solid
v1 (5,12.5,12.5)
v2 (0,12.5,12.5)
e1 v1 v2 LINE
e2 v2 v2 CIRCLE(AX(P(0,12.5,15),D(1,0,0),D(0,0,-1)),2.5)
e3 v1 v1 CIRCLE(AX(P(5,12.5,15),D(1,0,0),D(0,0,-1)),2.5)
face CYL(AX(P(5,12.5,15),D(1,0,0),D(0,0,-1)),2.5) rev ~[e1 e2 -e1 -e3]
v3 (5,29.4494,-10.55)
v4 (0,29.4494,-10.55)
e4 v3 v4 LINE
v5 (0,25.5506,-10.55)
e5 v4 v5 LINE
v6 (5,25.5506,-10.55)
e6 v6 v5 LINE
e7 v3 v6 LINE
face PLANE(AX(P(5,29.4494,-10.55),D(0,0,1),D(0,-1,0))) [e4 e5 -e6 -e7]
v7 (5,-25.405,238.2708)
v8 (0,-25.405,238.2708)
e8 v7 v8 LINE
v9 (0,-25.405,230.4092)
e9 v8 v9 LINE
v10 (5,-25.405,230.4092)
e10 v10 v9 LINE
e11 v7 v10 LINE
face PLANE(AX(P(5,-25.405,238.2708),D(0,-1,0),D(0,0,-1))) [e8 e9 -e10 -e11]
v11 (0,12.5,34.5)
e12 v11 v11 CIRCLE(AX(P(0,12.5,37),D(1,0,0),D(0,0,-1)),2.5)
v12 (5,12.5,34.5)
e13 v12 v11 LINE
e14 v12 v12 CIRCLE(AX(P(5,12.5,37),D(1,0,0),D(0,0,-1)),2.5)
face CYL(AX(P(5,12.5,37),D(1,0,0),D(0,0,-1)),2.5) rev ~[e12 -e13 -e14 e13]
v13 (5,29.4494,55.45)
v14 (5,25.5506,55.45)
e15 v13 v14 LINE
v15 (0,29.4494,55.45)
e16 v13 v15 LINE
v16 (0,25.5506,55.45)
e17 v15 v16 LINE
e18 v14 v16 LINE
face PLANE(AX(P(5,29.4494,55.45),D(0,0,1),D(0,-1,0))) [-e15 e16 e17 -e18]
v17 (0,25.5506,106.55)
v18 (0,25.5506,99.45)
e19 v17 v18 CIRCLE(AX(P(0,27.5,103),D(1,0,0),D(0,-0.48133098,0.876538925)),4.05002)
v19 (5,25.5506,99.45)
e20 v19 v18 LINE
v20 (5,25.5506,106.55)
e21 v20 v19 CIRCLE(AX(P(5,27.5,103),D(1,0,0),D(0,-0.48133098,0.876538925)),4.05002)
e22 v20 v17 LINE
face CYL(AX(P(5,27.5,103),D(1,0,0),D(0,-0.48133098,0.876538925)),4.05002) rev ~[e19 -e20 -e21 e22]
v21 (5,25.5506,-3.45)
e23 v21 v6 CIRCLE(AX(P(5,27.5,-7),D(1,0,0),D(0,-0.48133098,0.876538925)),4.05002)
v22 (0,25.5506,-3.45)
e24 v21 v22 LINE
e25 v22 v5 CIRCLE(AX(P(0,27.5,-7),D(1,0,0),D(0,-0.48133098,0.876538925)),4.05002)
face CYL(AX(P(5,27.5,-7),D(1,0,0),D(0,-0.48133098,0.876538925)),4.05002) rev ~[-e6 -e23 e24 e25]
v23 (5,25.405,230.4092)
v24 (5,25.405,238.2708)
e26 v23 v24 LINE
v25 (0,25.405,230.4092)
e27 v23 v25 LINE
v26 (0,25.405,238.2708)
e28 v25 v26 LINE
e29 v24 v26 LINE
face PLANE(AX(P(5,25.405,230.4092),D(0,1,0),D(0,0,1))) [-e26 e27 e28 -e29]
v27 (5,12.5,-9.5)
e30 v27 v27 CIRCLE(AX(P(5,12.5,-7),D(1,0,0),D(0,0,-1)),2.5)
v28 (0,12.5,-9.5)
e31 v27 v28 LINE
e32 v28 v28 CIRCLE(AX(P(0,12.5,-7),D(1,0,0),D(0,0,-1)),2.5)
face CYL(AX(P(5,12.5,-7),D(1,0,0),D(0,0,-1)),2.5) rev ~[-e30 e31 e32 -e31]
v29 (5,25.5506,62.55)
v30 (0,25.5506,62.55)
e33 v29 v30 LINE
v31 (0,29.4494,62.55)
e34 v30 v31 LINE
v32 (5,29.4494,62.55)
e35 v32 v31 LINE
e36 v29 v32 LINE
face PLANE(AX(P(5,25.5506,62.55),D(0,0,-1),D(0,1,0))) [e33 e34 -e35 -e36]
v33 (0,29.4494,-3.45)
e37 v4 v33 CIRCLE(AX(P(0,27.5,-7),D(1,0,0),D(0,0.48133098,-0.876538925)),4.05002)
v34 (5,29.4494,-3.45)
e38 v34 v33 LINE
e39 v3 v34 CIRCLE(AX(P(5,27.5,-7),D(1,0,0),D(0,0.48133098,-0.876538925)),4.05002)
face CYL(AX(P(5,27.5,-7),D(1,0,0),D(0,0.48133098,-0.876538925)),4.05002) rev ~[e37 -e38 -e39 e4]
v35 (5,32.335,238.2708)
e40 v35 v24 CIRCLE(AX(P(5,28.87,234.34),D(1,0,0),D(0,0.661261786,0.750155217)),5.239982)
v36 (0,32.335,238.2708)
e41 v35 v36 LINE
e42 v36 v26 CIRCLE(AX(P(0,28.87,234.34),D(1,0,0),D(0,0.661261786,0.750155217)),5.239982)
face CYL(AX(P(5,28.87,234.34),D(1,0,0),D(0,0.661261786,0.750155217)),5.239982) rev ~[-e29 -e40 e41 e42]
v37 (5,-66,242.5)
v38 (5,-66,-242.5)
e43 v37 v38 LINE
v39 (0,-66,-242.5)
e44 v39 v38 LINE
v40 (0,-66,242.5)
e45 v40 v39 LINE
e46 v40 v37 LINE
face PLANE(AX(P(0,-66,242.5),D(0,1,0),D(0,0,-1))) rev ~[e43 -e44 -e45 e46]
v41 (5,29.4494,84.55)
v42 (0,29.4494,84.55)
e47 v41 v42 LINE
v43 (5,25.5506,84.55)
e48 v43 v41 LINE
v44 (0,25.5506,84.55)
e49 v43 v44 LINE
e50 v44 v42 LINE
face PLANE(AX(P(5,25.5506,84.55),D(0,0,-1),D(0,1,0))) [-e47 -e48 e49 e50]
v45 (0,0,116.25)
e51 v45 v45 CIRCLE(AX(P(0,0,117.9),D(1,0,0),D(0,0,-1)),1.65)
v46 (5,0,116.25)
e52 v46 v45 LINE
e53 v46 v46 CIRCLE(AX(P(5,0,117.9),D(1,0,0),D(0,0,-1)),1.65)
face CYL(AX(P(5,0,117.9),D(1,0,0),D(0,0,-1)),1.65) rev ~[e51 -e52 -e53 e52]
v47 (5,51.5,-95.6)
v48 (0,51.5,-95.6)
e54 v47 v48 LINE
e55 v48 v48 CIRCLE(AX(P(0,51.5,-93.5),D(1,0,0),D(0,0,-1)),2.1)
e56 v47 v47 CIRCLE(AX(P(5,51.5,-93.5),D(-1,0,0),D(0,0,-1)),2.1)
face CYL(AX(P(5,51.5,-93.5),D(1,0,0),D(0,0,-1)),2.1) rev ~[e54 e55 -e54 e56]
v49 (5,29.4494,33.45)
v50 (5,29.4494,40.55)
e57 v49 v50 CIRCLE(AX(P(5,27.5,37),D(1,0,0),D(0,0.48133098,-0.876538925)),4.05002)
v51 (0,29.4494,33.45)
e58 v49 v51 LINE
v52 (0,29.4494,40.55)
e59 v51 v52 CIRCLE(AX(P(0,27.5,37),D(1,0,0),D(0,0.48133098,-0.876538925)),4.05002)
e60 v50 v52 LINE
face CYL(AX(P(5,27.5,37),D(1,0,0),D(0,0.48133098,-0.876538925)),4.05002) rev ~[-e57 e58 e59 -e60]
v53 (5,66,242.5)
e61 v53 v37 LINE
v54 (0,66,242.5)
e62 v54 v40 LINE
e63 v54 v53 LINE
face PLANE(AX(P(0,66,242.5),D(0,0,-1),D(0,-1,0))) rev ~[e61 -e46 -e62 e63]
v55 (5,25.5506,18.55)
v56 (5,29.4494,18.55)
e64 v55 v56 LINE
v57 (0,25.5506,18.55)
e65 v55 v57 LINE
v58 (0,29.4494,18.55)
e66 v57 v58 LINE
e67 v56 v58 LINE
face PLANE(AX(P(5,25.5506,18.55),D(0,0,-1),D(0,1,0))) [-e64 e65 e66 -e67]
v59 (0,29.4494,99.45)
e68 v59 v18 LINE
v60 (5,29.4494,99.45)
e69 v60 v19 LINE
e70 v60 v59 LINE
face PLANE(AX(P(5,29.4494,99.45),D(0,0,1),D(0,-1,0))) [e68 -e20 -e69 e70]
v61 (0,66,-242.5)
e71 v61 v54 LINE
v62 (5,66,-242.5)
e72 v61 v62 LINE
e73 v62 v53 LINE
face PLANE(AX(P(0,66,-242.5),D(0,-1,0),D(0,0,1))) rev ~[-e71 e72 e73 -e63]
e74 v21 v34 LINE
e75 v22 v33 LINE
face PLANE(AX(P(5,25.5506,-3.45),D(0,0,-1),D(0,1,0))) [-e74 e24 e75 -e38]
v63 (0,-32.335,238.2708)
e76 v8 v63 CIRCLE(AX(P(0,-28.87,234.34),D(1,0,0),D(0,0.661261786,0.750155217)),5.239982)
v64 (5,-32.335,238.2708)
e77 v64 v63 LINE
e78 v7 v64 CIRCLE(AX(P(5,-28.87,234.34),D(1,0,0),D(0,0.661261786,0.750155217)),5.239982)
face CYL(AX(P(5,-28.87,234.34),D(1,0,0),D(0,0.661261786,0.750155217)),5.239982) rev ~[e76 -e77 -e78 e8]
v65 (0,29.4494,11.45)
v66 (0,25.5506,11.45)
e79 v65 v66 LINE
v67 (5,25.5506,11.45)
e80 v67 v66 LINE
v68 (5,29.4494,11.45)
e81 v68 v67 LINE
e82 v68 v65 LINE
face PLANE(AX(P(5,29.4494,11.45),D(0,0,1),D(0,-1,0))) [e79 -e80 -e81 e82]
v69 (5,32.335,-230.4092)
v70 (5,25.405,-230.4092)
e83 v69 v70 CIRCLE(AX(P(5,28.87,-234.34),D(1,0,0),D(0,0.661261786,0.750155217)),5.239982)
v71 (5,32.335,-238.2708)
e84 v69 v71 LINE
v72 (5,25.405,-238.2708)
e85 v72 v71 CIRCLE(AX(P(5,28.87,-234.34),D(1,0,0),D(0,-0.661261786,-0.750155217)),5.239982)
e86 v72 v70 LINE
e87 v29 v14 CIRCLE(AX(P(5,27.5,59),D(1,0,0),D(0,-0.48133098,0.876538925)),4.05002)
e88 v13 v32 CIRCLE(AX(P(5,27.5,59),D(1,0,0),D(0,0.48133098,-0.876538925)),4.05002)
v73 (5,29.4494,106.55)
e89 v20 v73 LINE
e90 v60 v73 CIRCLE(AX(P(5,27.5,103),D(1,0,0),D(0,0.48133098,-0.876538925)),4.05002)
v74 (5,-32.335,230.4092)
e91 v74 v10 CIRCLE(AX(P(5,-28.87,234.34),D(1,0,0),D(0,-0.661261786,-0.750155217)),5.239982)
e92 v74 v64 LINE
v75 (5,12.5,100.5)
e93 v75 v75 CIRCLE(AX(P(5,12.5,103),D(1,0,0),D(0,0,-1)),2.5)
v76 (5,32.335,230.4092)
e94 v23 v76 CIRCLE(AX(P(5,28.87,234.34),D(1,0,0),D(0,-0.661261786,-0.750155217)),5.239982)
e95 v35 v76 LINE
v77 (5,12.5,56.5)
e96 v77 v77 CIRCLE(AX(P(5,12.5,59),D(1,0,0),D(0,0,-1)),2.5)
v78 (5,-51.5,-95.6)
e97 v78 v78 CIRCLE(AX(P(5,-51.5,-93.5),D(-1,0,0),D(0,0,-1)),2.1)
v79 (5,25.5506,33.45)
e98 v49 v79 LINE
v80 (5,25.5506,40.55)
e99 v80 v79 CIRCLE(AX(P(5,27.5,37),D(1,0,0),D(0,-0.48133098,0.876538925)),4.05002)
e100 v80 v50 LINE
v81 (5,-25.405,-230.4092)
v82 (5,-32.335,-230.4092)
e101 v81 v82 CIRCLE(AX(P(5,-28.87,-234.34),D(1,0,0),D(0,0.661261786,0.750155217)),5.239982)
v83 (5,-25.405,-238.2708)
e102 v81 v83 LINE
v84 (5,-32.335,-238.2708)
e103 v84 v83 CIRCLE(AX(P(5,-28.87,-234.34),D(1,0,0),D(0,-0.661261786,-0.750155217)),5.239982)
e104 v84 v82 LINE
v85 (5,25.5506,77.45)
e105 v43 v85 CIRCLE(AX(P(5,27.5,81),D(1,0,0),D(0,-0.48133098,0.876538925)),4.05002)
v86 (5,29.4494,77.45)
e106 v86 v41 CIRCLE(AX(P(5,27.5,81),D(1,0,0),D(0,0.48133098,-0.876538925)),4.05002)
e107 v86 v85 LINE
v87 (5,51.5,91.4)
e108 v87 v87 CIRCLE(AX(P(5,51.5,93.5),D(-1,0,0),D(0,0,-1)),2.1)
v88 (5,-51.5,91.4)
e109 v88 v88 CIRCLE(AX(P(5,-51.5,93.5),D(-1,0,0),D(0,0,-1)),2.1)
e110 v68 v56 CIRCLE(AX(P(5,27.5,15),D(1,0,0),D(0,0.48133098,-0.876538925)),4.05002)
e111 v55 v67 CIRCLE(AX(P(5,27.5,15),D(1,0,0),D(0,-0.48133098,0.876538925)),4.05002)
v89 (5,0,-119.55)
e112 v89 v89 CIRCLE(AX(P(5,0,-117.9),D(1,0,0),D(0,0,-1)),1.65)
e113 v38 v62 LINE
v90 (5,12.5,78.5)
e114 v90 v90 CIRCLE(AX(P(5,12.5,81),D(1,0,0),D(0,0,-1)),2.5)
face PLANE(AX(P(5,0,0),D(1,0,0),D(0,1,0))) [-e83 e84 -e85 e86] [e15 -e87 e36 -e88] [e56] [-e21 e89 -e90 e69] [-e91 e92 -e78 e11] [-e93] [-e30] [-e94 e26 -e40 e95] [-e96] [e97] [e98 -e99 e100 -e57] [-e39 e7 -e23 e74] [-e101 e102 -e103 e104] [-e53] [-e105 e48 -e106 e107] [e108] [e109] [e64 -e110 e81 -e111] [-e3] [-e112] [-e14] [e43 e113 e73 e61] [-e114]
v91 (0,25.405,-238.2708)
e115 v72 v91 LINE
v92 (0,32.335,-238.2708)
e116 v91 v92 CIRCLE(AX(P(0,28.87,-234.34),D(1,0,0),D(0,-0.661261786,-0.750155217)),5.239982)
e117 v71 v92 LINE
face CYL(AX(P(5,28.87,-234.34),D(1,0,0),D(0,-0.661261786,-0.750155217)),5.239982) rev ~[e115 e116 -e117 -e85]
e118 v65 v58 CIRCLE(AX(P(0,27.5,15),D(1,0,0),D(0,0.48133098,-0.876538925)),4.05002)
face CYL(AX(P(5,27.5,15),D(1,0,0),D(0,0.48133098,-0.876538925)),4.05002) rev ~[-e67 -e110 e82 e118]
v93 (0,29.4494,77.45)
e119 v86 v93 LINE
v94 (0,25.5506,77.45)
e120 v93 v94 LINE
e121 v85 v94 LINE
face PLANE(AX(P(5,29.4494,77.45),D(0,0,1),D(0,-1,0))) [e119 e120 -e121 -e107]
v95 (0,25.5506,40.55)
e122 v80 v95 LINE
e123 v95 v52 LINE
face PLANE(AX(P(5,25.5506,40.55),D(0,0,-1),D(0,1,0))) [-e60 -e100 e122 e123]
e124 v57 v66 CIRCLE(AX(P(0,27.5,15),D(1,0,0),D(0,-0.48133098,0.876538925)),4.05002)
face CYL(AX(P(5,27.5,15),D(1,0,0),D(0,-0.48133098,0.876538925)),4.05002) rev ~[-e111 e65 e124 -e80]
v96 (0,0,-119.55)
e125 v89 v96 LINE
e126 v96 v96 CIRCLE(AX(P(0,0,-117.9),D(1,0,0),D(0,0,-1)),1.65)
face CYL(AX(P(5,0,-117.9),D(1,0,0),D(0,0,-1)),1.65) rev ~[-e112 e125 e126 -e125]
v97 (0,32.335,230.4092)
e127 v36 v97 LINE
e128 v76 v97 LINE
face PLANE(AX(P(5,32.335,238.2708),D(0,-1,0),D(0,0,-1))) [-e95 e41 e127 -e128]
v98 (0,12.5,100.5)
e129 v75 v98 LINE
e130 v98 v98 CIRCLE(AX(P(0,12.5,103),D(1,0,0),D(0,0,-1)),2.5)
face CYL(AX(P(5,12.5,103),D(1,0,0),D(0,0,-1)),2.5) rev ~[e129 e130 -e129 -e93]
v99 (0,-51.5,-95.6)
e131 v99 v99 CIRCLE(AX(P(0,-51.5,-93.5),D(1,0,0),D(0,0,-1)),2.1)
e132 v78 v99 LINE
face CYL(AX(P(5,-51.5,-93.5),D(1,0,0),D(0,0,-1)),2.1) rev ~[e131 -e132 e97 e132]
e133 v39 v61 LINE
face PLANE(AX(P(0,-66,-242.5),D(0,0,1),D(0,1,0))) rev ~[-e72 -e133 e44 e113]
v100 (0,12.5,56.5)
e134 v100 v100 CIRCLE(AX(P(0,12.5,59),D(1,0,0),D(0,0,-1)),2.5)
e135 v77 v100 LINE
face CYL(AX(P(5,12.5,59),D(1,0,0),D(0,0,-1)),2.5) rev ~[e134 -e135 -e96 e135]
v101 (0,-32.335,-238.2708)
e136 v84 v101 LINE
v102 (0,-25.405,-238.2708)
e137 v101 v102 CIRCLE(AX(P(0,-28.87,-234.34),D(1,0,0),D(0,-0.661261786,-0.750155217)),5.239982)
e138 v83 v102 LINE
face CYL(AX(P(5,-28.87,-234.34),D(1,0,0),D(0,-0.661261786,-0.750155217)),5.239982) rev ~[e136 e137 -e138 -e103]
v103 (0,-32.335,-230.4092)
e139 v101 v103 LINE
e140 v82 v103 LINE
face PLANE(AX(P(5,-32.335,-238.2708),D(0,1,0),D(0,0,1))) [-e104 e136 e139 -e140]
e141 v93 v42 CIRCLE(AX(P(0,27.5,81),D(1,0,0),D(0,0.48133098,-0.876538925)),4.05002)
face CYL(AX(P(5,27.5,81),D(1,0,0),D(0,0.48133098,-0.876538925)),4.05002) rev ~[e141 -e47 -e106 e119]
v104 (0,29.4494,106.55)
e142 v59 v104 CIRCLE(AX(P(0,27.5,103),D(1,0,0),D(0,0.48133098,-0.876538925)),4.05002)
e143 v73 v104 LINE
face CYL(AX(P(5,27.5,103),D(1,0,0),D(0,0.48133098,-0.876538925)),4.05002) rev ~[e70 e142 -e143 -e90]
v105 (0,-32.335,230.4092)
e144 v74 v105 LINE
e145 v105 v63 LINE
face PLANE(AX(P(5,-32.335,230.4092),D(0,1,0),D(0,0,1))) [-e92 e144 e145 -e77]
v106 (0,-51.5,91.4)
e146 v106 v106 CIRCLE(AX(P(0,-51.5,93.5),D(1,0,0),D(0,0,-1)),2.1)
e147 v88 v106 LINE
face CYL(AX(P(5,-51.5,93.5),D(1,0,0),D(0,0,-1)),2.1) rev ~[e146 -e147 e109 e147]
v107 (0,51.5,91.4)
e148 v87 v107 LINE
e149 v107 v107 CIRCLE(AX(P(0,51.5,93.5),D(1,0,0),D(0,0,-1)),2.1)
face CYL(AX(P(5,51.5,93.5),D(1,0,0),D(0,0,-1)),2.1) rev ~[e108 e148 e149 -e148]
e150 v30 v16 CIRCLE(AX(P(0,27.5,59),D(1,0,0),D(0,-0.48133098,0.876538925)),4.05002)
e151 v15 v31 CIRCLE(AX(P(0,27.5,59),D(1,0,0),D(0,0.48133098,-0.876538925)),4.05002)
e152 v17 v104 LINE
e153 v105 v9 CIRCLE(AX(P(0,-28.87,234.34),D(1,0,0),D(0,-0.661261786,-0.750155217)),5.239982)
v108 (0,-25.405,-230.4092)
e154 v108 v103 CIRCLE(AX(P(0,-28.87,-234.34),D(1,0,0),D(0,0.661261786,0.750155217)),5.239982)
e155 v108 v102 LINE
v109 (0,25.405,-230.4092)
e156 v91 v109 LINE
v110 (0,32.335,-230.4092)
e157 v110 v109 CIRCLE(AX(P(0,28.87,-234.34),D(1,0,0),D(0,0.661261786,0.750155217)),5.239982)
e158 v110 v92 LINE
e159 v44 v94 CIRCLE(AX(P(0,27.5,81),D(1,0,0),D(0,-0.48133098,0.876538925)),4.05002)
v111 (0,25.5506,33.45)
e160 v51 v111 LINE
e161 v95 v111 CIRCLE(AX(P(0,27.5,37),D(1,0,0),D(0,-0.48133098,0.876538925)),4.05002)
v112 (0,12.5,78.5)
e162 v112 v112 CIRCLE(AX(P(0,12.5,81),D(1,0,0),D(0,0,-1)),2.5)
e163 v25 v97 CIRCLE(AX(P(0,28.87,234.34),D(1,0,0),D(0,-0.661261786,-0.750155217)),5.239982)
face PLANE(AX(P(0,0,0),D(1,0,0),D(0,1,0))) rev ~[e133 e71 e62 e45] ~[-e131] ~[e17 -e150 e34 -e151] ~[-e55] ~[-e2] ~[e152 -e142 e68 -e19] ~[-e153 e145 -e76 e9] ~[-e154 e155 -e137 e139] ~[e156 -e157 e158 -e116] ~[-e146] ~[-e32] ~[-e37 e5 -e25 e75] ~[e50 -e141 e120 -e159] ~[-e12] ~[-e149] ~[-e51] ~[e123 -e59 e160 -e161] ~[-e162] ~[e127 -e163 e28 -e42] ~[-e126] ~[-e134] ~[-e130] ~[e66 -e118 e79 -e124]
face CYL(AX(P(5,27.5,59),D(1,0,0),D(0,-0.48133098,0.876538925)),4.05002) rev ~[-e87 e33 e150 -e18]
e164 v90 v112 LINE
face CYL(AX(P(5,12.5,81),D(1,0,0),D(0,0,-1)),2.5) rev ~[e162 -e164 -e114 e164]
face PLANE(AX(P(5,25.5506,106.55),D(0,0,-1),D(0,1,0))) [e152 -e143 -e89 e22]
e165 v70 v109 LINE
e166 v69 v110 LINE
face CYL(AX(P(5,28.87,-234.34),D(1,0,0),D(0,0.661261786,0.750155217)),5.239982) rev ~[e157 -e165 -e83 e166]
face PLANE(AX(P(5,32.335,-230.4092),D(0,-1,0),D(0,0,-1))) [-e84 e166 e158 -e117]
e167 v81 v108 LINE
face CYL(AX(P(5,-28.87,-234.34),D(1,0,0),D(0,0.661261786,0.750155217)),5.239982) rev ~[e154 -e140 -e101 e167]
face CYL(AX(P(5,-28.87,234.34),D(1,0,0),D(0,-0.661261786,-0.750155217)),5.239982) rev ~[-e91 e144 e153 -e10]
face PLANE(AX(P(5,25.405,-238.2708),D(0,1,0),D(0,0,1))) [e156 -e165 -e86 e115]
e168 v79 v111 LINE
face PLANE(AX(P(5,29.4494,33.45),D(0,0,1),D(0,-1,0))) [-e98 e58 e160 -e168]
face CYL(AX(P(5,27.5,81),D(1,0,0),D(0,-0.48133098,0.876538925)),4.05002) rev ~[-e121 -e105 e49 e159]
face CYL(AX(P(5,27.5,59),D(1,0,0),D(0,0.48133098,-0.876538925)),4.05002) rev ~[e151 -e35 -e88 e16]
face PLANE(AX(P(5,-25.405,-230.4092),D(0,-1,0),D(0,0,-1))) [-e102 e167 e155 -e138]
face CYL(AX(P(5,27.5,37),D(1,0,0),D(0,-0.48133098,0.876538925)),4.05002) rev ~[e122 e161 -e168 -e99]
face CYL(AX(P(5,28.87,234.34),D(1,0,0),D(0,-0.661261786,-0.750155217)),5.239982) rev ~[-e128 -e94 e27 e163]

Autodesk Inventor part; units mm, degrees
ref_plane "YZ Plane" through (0, 0, 0) normal (1, 0, 0) x (0, 1, 0)
ref_plane "XZ Plane" through (0, 0, 0) normal (0, 1, 0) x (-1, 0, 0)
ref_plane "XY Plane" through (0, 0, 0) normal (0, 0, 1) x (1, 0, 0)
sketch "Sketch1" plane through (0, 0, 0) normal (1, 0, 0) x (0, 1, 0)
  line L0 (-66, -242.5) -> (66, -242.5)
  line L1 (66, -242.5) -> (66, 242.5)
  line L2 (66, 242.5) -> (-66, 242.5)
  line L3 (-66, 242.5) -> (-66, -242.5)
  line L4 (-66, -242.5) -> (66, 242.5) construction
  line L5 (66, -242.5) -> (-66, 242.5) construction
  point P0 (0, 0)
  dimension "d0" = 132
  dimension "d1" = 485
extrude "Extrusion1" add sketch "Sketch1" along normal blind 5
sketch "Sketch2" plane through (5, 0, 0) normal (1, 0, 0) x (0, 0, -1)
  line L0 (-242.5, -66) -> (242.5, -66) projected
  line L1 (-242.5, 66) -> (-242.5, -66) projected
  line L2 (0, 66) -> (0, -66) construction
  line L3 (-242.5, 0) -> (242.5, 0) construction
  line L4 (-230.4092, -32.335) -> (-238.2708, -32.335)
  line L5 (-238.2708, -25.405) -> (-230.4092, -25.405)
  line L6 (-230.4092, -32.335) -> (-238.2708, -25.405) construction
  line L7 (-238.2708, -32.335) -> (-230.4092, -25.405) construction
  arc A0 (-238.2708, -25.405) -> (-238.2708, -32.335) centre (-234.34, -28.87) ccw
  arc A1 (-230.4092, -32.335) -> (-230.4092, -25.405) centre (-234.34, -28.87) ccw
  line L8 (238.2708, -32.335) -> (230.4092, -32.335)
  line L9 (230.4092, -25.405) -> (238.2708, -25.405)
  line L10 (238.2708, -32.335) -> (230.4092, -25.405) construction
  line L11 (230.4092, -32.335) -> (238.2708, -25.405) construction
  arc A2 (230.4092, -25.405) -> (230.4092, -32.335) centre (234.34, -28.87) ccw
  arc A3 (238.2708, -32.335) -> (238.2708, -25.405) centre (234.34, -28.87) ccw
  line L12 (-230.4092, 25.405) -> (-238.2708, 25.405)
  line L13 (-238.2708, 32.335) -> (-230.4092, 32.335)
  line L14 (-230.4092, 25.405) -> (-238.2708, 32.335) construction
  line L15 (-238.2708, 25.405) -> (-230.4092, 32.335) construction
  arc A4 (-238.2708, 32.335) -> (-238.2708, 25.405) centre (-234.34, 28.87) ccw
  arc A5 (-230.4092, 25.405) -> (-230.4092, 32.335) centre (-234.34, 28.87) ccw
  line L16 (238.2708, 25.405) -> (230.4092, 25.405)
  line L17 (230.4092, 32.335) -> (238.2708, 32.335)
  line L18 (238.2708, 25.405) -> (230.4092, 32.335) construction
  line L19 (230.4092, 25.405) -> (238.2708, 32.335) construction
  arc A6 (230.4092, 32.335) -> (230.4092, 25.405) centre (234.34, 28.87) ccw
  arc A7 (238.2708, 25.405) -> (238.2708, 32.335) centre (234.34, 28.87) ccw
  line L20 (121, -42.5) -> (-121, -42.5)
  line L21 (-121, -42.5) -> (-121, 42.5)
  line L22 (-121, 42.5) -> (121, 42.5)
  line L23 (121, 42.5) -> (121, -42.5)
  line L24 (121, -42.5) -> (-121, 42.5) construction
  line L25 (-121, -42.5) -> (121, 42.5) construction
  circle A8 centre (-117.9, 0) radius 1.65
  line L26 (-6.7, 0) -> (478.3, 0) construction
  circle A9 centre (117.9, 0) radius 1.65
  circle A10 centre (-103, 12.5) radius 2.5
  line L27 (-106.55, 25.5506) -> (-106.55, 29.4494)
  line L28 (-99.45, 29.4494) -> (-99.45, 25.5506)
  line L29 (-99.45, 25.5506) -> (-106.55, 29.4494) construction
  line L30 (-106.55, 25.5506) -> (-99.45, 29.4494) construction
  arc A11 (-106.55, 25.5506) -> (-99.45, 25.5506) centre (-103, 27.5) ccw
  arc A12 (-99.45, 29.4494) -> (-106.55, 29.4494) centre (-103, 27.5) ccw
  line L31 (-220.5, 0) -> (264.5, 0) construction
  line L32 (143, -42.5) -> (-99, 42.5) construction
  circle A13 centre (-81, 12.5) radius 2.5
  arc A14 (-77.45, 29.4494) -> (-84.55, 29.4494) centre (-81, 27.5) ccw
  arc A15 (-84.55, 25.5506) -> (-77.45, 25.5506) centre (-81, 27.5) ccw
  line L33 (-84.55, 25.5506) -> (-84.55, 29.4494)
  line L34 (-77.45, 29.4494) -> (-77.45, 25.5506)
  line L35 (-84.55, 25.5506) -> (-77.45, 29.4494) construction
  line L36 (-77.45, 25.5506) -> (-84.55, 29.4494) construction
  line L37 (-198.5, 0) -> (286.5, 0) construction
  line L38 (165, -42.5) -> (-77, 42.5) construction
  circle A16 centre (-59, 12.5) radius 2.5
  arc A17 (-55.45, 29.4494) -> (-62.55, 29.4494) centre (-59, 27.5) ccw
  arc A18 (-62.55, 25.5506) -> (-55.45, 25.5506) centre (-59, 27.5) ccw
  line L39 (-62.55, 25.5506) -> (-62.55, 29.4494)
  line L40 (-55.45, 29.4494) -> (-55.45, 25.5506)
  line L41 (-62.55, 25.5506) -> (-55.45, 29.4494) construction
  line L42 (-55.45, 25.5506) -> (-62.55, 29.4494) construction
  line L43 (-176.5, 0) -> (308.5, 0) construction
  line L44 (187, -42.5) -> (-55, 42.5) construction
  circle A19 centre (-37, 12.5) radius 2.5
  arc A20 (-33.45, 29.4494) -> (-40.55, 29.4494) centre (-37, 27.5) ccw
  arc A21 (-40.55, 25.5506) -> (-33.45, 25.5506) centre (-37, 27.5) ccw
  line L45 (-40.55, 25.5506) -> (-40.55, 29.4494)
  line L46 (-33.45, 29.4494) -> (-33.45, 25.5506)
  line L47 (-40.55, 25.5506) -> (-33.45, 29.4494) construction
  line L48 (-33.45, 25.5506) -> (-40.55, 29.4494) construction
  line L49 (-154.5, 0) -> (330.5, 0) construction
  line L50 (209, -42.5) -> (-33, 42.5) construction
  circle A22 centre (-15, 12.5) radius 2.5
  arc A23 (-11.45, 29.4494) -> (-18.55, 29.4494) centre (-15, 27.5) ccw
  arc A24 (-18.55, 25.5506) -> (-11.45, 25.5506) centre (-15, 27.5) ccw
  line L51 (-18.55, 25.5506) -> (-18.55, 29.4494)
  line L52 (-11.45, 29.4494) -> (-11.45, 25.5506)
  line L53 (-18.55, 25.5506) -> (-11.45, 29.4494) construction
  line L54 (-11.45, 25.5506) -> (-18.55, 29.4494) construction
  line L55 (-132.5, 0) -> (352.5, 0) construction
  line L56 (231, -42.5) -> (-11, 42.5) construction
  circle A25 centre (7, 12.5) radius 2.5
  arc A26 (10.55, 29.4494) -> (3.45, 29.4494) centre (7, 27.5) ccw
  arc A27 (3.45, 25.5506) -> (10.55, 25.5506) centre (7, 27.5) ccw
  line L57 (3.45, 25.5506) -> (3.45, 29.4494)
  line L58 (10.55, 29.4494) -> (10.55, 25.5506)
  line L59 (3.45, 25.5506) -> (10.55, 29.4494) construction
  line L60 (10.55, 25.5506) -> (3.45, 29.4494) construction
  arc A28 (-121, 42.5) -> (-121, -42.5) centre (329.563, 0) ccw
  arc A29 (121, -42.5) -> (121, 42.5) centre (-329.563, 0) ccw
  line L61 (93.5, 43.5) -> (-93.5, 43.5)
  line L62 (-93.5, 43.5) -> (-93.5, 58.58)
  line L63 (-93.5, 58.58) -> (93.5, 58.58)
  line L64 (93.5, 58.58) -> (93.5, 43.5)
  line L65 (93.5, 43.5) -> (-93.5, 58.58) construction
  line L66 (-93.5, 43.5) -> (93.5, 58.58) construction
  line L67 (242.5, 66) -> (-242.5, 66) projected
  circle A30 centre (93.5, 51.5) radius 2.1
  circle A31 centre (-93.5, 51.5) radius 2.1
  line L68 (93.5, -58.58) -> (-93.5, -58.58)
  line L69 (-93.5, -58.58) -> (-93.5, -43.5)
  line L70 (-93.5, -43.5) -> (93.5, -43.5)
  line L71 (93.5, -43.5) -> (93.5, -58.58)
  line L72 (93.5, -58.58) -> (-93.5, -43.5) construction
  line L73 (-93.5, -58.58) -> (93.5, -43.5) construction
  circle A32 centre (93.5, -51.5) radius 2.1
  circle A33 centre (-93.5, -51.5) radius 2.1
  point P0 (0, 0)
  point P1 (-103, 27.5)
  point P2 (-81, 27.5)
  point P3 (-59, 27.5)
  point P4 (-37, 27.5)
  point P5 (-15, 27.5)
  point P6 (7, 27.5)
  point P7 (0, 51.04)
  point P8 (0, -51.04)
  dimension "d7" = 28.87
  dimension "d10" = 234.34
  dimension "d11" = 5.24
  dimension "d12" = 6.93
  dimension "d15" = 468.68
  dimension "d18" = 57.74
  dimension "d21" = 242
  dimension "d22" = 85
  dimension "d23" = 117.9
  dimension "d24" = 42.5
  dimension "d25" = 3.3
  dimension "d28" = 235.8
  dimension "d33" = 117.9
  dimension "d35" = 5
  dimension "d37" = 15
  dimension "d38" = 18
  dimension "d39" = 15
  dimension "d40" = 4.05
  dimension "d41" = 7.1
  dimension "d44" = 22
  dimension "d51" = 452.563
  dimension "d52" = 452.563
  dimension "d53" = 7.42
  dimension "d54" = 15.08
  dimension "d55" = 187
  dimension "d56" = 4.2
  dimension "d57" = 8
  dimension "d58" = 4.2
  dimension "d59" = 8
  dimension "d72" = 15.08
  dimension "d73" = 187
  dimension "d74" = 4.2
  dimension "d76" = 4.2
  dimension "d78" = 7.42
  dimension "d79" = 8
  dimension "d80" = 8
extrude "Extrusion2" cut sketch "Sketch2" against normal blind 5 contours L4 A0 L5 A1 | L8 A2 L9 A3 | L12 A4 L13 A5 | L16 A6 L17 A7 | A8 | A9 | A10 | L27 A12 L28 A11 | A13 | L34 A15 L33 A14 | A16 | L40 A18 L39 A17 | A19 | L46 A21 L45 A20 | A22 | L52 A24 L51 A23 | A25 | L58 A27 L57 A26 | A30 L64 | L64 A30 | A31 L62 | L62 A31 | A32 L71 | L71 A32 | A33 L69 | L69 A33
properties part number "Large_frontplatte"
